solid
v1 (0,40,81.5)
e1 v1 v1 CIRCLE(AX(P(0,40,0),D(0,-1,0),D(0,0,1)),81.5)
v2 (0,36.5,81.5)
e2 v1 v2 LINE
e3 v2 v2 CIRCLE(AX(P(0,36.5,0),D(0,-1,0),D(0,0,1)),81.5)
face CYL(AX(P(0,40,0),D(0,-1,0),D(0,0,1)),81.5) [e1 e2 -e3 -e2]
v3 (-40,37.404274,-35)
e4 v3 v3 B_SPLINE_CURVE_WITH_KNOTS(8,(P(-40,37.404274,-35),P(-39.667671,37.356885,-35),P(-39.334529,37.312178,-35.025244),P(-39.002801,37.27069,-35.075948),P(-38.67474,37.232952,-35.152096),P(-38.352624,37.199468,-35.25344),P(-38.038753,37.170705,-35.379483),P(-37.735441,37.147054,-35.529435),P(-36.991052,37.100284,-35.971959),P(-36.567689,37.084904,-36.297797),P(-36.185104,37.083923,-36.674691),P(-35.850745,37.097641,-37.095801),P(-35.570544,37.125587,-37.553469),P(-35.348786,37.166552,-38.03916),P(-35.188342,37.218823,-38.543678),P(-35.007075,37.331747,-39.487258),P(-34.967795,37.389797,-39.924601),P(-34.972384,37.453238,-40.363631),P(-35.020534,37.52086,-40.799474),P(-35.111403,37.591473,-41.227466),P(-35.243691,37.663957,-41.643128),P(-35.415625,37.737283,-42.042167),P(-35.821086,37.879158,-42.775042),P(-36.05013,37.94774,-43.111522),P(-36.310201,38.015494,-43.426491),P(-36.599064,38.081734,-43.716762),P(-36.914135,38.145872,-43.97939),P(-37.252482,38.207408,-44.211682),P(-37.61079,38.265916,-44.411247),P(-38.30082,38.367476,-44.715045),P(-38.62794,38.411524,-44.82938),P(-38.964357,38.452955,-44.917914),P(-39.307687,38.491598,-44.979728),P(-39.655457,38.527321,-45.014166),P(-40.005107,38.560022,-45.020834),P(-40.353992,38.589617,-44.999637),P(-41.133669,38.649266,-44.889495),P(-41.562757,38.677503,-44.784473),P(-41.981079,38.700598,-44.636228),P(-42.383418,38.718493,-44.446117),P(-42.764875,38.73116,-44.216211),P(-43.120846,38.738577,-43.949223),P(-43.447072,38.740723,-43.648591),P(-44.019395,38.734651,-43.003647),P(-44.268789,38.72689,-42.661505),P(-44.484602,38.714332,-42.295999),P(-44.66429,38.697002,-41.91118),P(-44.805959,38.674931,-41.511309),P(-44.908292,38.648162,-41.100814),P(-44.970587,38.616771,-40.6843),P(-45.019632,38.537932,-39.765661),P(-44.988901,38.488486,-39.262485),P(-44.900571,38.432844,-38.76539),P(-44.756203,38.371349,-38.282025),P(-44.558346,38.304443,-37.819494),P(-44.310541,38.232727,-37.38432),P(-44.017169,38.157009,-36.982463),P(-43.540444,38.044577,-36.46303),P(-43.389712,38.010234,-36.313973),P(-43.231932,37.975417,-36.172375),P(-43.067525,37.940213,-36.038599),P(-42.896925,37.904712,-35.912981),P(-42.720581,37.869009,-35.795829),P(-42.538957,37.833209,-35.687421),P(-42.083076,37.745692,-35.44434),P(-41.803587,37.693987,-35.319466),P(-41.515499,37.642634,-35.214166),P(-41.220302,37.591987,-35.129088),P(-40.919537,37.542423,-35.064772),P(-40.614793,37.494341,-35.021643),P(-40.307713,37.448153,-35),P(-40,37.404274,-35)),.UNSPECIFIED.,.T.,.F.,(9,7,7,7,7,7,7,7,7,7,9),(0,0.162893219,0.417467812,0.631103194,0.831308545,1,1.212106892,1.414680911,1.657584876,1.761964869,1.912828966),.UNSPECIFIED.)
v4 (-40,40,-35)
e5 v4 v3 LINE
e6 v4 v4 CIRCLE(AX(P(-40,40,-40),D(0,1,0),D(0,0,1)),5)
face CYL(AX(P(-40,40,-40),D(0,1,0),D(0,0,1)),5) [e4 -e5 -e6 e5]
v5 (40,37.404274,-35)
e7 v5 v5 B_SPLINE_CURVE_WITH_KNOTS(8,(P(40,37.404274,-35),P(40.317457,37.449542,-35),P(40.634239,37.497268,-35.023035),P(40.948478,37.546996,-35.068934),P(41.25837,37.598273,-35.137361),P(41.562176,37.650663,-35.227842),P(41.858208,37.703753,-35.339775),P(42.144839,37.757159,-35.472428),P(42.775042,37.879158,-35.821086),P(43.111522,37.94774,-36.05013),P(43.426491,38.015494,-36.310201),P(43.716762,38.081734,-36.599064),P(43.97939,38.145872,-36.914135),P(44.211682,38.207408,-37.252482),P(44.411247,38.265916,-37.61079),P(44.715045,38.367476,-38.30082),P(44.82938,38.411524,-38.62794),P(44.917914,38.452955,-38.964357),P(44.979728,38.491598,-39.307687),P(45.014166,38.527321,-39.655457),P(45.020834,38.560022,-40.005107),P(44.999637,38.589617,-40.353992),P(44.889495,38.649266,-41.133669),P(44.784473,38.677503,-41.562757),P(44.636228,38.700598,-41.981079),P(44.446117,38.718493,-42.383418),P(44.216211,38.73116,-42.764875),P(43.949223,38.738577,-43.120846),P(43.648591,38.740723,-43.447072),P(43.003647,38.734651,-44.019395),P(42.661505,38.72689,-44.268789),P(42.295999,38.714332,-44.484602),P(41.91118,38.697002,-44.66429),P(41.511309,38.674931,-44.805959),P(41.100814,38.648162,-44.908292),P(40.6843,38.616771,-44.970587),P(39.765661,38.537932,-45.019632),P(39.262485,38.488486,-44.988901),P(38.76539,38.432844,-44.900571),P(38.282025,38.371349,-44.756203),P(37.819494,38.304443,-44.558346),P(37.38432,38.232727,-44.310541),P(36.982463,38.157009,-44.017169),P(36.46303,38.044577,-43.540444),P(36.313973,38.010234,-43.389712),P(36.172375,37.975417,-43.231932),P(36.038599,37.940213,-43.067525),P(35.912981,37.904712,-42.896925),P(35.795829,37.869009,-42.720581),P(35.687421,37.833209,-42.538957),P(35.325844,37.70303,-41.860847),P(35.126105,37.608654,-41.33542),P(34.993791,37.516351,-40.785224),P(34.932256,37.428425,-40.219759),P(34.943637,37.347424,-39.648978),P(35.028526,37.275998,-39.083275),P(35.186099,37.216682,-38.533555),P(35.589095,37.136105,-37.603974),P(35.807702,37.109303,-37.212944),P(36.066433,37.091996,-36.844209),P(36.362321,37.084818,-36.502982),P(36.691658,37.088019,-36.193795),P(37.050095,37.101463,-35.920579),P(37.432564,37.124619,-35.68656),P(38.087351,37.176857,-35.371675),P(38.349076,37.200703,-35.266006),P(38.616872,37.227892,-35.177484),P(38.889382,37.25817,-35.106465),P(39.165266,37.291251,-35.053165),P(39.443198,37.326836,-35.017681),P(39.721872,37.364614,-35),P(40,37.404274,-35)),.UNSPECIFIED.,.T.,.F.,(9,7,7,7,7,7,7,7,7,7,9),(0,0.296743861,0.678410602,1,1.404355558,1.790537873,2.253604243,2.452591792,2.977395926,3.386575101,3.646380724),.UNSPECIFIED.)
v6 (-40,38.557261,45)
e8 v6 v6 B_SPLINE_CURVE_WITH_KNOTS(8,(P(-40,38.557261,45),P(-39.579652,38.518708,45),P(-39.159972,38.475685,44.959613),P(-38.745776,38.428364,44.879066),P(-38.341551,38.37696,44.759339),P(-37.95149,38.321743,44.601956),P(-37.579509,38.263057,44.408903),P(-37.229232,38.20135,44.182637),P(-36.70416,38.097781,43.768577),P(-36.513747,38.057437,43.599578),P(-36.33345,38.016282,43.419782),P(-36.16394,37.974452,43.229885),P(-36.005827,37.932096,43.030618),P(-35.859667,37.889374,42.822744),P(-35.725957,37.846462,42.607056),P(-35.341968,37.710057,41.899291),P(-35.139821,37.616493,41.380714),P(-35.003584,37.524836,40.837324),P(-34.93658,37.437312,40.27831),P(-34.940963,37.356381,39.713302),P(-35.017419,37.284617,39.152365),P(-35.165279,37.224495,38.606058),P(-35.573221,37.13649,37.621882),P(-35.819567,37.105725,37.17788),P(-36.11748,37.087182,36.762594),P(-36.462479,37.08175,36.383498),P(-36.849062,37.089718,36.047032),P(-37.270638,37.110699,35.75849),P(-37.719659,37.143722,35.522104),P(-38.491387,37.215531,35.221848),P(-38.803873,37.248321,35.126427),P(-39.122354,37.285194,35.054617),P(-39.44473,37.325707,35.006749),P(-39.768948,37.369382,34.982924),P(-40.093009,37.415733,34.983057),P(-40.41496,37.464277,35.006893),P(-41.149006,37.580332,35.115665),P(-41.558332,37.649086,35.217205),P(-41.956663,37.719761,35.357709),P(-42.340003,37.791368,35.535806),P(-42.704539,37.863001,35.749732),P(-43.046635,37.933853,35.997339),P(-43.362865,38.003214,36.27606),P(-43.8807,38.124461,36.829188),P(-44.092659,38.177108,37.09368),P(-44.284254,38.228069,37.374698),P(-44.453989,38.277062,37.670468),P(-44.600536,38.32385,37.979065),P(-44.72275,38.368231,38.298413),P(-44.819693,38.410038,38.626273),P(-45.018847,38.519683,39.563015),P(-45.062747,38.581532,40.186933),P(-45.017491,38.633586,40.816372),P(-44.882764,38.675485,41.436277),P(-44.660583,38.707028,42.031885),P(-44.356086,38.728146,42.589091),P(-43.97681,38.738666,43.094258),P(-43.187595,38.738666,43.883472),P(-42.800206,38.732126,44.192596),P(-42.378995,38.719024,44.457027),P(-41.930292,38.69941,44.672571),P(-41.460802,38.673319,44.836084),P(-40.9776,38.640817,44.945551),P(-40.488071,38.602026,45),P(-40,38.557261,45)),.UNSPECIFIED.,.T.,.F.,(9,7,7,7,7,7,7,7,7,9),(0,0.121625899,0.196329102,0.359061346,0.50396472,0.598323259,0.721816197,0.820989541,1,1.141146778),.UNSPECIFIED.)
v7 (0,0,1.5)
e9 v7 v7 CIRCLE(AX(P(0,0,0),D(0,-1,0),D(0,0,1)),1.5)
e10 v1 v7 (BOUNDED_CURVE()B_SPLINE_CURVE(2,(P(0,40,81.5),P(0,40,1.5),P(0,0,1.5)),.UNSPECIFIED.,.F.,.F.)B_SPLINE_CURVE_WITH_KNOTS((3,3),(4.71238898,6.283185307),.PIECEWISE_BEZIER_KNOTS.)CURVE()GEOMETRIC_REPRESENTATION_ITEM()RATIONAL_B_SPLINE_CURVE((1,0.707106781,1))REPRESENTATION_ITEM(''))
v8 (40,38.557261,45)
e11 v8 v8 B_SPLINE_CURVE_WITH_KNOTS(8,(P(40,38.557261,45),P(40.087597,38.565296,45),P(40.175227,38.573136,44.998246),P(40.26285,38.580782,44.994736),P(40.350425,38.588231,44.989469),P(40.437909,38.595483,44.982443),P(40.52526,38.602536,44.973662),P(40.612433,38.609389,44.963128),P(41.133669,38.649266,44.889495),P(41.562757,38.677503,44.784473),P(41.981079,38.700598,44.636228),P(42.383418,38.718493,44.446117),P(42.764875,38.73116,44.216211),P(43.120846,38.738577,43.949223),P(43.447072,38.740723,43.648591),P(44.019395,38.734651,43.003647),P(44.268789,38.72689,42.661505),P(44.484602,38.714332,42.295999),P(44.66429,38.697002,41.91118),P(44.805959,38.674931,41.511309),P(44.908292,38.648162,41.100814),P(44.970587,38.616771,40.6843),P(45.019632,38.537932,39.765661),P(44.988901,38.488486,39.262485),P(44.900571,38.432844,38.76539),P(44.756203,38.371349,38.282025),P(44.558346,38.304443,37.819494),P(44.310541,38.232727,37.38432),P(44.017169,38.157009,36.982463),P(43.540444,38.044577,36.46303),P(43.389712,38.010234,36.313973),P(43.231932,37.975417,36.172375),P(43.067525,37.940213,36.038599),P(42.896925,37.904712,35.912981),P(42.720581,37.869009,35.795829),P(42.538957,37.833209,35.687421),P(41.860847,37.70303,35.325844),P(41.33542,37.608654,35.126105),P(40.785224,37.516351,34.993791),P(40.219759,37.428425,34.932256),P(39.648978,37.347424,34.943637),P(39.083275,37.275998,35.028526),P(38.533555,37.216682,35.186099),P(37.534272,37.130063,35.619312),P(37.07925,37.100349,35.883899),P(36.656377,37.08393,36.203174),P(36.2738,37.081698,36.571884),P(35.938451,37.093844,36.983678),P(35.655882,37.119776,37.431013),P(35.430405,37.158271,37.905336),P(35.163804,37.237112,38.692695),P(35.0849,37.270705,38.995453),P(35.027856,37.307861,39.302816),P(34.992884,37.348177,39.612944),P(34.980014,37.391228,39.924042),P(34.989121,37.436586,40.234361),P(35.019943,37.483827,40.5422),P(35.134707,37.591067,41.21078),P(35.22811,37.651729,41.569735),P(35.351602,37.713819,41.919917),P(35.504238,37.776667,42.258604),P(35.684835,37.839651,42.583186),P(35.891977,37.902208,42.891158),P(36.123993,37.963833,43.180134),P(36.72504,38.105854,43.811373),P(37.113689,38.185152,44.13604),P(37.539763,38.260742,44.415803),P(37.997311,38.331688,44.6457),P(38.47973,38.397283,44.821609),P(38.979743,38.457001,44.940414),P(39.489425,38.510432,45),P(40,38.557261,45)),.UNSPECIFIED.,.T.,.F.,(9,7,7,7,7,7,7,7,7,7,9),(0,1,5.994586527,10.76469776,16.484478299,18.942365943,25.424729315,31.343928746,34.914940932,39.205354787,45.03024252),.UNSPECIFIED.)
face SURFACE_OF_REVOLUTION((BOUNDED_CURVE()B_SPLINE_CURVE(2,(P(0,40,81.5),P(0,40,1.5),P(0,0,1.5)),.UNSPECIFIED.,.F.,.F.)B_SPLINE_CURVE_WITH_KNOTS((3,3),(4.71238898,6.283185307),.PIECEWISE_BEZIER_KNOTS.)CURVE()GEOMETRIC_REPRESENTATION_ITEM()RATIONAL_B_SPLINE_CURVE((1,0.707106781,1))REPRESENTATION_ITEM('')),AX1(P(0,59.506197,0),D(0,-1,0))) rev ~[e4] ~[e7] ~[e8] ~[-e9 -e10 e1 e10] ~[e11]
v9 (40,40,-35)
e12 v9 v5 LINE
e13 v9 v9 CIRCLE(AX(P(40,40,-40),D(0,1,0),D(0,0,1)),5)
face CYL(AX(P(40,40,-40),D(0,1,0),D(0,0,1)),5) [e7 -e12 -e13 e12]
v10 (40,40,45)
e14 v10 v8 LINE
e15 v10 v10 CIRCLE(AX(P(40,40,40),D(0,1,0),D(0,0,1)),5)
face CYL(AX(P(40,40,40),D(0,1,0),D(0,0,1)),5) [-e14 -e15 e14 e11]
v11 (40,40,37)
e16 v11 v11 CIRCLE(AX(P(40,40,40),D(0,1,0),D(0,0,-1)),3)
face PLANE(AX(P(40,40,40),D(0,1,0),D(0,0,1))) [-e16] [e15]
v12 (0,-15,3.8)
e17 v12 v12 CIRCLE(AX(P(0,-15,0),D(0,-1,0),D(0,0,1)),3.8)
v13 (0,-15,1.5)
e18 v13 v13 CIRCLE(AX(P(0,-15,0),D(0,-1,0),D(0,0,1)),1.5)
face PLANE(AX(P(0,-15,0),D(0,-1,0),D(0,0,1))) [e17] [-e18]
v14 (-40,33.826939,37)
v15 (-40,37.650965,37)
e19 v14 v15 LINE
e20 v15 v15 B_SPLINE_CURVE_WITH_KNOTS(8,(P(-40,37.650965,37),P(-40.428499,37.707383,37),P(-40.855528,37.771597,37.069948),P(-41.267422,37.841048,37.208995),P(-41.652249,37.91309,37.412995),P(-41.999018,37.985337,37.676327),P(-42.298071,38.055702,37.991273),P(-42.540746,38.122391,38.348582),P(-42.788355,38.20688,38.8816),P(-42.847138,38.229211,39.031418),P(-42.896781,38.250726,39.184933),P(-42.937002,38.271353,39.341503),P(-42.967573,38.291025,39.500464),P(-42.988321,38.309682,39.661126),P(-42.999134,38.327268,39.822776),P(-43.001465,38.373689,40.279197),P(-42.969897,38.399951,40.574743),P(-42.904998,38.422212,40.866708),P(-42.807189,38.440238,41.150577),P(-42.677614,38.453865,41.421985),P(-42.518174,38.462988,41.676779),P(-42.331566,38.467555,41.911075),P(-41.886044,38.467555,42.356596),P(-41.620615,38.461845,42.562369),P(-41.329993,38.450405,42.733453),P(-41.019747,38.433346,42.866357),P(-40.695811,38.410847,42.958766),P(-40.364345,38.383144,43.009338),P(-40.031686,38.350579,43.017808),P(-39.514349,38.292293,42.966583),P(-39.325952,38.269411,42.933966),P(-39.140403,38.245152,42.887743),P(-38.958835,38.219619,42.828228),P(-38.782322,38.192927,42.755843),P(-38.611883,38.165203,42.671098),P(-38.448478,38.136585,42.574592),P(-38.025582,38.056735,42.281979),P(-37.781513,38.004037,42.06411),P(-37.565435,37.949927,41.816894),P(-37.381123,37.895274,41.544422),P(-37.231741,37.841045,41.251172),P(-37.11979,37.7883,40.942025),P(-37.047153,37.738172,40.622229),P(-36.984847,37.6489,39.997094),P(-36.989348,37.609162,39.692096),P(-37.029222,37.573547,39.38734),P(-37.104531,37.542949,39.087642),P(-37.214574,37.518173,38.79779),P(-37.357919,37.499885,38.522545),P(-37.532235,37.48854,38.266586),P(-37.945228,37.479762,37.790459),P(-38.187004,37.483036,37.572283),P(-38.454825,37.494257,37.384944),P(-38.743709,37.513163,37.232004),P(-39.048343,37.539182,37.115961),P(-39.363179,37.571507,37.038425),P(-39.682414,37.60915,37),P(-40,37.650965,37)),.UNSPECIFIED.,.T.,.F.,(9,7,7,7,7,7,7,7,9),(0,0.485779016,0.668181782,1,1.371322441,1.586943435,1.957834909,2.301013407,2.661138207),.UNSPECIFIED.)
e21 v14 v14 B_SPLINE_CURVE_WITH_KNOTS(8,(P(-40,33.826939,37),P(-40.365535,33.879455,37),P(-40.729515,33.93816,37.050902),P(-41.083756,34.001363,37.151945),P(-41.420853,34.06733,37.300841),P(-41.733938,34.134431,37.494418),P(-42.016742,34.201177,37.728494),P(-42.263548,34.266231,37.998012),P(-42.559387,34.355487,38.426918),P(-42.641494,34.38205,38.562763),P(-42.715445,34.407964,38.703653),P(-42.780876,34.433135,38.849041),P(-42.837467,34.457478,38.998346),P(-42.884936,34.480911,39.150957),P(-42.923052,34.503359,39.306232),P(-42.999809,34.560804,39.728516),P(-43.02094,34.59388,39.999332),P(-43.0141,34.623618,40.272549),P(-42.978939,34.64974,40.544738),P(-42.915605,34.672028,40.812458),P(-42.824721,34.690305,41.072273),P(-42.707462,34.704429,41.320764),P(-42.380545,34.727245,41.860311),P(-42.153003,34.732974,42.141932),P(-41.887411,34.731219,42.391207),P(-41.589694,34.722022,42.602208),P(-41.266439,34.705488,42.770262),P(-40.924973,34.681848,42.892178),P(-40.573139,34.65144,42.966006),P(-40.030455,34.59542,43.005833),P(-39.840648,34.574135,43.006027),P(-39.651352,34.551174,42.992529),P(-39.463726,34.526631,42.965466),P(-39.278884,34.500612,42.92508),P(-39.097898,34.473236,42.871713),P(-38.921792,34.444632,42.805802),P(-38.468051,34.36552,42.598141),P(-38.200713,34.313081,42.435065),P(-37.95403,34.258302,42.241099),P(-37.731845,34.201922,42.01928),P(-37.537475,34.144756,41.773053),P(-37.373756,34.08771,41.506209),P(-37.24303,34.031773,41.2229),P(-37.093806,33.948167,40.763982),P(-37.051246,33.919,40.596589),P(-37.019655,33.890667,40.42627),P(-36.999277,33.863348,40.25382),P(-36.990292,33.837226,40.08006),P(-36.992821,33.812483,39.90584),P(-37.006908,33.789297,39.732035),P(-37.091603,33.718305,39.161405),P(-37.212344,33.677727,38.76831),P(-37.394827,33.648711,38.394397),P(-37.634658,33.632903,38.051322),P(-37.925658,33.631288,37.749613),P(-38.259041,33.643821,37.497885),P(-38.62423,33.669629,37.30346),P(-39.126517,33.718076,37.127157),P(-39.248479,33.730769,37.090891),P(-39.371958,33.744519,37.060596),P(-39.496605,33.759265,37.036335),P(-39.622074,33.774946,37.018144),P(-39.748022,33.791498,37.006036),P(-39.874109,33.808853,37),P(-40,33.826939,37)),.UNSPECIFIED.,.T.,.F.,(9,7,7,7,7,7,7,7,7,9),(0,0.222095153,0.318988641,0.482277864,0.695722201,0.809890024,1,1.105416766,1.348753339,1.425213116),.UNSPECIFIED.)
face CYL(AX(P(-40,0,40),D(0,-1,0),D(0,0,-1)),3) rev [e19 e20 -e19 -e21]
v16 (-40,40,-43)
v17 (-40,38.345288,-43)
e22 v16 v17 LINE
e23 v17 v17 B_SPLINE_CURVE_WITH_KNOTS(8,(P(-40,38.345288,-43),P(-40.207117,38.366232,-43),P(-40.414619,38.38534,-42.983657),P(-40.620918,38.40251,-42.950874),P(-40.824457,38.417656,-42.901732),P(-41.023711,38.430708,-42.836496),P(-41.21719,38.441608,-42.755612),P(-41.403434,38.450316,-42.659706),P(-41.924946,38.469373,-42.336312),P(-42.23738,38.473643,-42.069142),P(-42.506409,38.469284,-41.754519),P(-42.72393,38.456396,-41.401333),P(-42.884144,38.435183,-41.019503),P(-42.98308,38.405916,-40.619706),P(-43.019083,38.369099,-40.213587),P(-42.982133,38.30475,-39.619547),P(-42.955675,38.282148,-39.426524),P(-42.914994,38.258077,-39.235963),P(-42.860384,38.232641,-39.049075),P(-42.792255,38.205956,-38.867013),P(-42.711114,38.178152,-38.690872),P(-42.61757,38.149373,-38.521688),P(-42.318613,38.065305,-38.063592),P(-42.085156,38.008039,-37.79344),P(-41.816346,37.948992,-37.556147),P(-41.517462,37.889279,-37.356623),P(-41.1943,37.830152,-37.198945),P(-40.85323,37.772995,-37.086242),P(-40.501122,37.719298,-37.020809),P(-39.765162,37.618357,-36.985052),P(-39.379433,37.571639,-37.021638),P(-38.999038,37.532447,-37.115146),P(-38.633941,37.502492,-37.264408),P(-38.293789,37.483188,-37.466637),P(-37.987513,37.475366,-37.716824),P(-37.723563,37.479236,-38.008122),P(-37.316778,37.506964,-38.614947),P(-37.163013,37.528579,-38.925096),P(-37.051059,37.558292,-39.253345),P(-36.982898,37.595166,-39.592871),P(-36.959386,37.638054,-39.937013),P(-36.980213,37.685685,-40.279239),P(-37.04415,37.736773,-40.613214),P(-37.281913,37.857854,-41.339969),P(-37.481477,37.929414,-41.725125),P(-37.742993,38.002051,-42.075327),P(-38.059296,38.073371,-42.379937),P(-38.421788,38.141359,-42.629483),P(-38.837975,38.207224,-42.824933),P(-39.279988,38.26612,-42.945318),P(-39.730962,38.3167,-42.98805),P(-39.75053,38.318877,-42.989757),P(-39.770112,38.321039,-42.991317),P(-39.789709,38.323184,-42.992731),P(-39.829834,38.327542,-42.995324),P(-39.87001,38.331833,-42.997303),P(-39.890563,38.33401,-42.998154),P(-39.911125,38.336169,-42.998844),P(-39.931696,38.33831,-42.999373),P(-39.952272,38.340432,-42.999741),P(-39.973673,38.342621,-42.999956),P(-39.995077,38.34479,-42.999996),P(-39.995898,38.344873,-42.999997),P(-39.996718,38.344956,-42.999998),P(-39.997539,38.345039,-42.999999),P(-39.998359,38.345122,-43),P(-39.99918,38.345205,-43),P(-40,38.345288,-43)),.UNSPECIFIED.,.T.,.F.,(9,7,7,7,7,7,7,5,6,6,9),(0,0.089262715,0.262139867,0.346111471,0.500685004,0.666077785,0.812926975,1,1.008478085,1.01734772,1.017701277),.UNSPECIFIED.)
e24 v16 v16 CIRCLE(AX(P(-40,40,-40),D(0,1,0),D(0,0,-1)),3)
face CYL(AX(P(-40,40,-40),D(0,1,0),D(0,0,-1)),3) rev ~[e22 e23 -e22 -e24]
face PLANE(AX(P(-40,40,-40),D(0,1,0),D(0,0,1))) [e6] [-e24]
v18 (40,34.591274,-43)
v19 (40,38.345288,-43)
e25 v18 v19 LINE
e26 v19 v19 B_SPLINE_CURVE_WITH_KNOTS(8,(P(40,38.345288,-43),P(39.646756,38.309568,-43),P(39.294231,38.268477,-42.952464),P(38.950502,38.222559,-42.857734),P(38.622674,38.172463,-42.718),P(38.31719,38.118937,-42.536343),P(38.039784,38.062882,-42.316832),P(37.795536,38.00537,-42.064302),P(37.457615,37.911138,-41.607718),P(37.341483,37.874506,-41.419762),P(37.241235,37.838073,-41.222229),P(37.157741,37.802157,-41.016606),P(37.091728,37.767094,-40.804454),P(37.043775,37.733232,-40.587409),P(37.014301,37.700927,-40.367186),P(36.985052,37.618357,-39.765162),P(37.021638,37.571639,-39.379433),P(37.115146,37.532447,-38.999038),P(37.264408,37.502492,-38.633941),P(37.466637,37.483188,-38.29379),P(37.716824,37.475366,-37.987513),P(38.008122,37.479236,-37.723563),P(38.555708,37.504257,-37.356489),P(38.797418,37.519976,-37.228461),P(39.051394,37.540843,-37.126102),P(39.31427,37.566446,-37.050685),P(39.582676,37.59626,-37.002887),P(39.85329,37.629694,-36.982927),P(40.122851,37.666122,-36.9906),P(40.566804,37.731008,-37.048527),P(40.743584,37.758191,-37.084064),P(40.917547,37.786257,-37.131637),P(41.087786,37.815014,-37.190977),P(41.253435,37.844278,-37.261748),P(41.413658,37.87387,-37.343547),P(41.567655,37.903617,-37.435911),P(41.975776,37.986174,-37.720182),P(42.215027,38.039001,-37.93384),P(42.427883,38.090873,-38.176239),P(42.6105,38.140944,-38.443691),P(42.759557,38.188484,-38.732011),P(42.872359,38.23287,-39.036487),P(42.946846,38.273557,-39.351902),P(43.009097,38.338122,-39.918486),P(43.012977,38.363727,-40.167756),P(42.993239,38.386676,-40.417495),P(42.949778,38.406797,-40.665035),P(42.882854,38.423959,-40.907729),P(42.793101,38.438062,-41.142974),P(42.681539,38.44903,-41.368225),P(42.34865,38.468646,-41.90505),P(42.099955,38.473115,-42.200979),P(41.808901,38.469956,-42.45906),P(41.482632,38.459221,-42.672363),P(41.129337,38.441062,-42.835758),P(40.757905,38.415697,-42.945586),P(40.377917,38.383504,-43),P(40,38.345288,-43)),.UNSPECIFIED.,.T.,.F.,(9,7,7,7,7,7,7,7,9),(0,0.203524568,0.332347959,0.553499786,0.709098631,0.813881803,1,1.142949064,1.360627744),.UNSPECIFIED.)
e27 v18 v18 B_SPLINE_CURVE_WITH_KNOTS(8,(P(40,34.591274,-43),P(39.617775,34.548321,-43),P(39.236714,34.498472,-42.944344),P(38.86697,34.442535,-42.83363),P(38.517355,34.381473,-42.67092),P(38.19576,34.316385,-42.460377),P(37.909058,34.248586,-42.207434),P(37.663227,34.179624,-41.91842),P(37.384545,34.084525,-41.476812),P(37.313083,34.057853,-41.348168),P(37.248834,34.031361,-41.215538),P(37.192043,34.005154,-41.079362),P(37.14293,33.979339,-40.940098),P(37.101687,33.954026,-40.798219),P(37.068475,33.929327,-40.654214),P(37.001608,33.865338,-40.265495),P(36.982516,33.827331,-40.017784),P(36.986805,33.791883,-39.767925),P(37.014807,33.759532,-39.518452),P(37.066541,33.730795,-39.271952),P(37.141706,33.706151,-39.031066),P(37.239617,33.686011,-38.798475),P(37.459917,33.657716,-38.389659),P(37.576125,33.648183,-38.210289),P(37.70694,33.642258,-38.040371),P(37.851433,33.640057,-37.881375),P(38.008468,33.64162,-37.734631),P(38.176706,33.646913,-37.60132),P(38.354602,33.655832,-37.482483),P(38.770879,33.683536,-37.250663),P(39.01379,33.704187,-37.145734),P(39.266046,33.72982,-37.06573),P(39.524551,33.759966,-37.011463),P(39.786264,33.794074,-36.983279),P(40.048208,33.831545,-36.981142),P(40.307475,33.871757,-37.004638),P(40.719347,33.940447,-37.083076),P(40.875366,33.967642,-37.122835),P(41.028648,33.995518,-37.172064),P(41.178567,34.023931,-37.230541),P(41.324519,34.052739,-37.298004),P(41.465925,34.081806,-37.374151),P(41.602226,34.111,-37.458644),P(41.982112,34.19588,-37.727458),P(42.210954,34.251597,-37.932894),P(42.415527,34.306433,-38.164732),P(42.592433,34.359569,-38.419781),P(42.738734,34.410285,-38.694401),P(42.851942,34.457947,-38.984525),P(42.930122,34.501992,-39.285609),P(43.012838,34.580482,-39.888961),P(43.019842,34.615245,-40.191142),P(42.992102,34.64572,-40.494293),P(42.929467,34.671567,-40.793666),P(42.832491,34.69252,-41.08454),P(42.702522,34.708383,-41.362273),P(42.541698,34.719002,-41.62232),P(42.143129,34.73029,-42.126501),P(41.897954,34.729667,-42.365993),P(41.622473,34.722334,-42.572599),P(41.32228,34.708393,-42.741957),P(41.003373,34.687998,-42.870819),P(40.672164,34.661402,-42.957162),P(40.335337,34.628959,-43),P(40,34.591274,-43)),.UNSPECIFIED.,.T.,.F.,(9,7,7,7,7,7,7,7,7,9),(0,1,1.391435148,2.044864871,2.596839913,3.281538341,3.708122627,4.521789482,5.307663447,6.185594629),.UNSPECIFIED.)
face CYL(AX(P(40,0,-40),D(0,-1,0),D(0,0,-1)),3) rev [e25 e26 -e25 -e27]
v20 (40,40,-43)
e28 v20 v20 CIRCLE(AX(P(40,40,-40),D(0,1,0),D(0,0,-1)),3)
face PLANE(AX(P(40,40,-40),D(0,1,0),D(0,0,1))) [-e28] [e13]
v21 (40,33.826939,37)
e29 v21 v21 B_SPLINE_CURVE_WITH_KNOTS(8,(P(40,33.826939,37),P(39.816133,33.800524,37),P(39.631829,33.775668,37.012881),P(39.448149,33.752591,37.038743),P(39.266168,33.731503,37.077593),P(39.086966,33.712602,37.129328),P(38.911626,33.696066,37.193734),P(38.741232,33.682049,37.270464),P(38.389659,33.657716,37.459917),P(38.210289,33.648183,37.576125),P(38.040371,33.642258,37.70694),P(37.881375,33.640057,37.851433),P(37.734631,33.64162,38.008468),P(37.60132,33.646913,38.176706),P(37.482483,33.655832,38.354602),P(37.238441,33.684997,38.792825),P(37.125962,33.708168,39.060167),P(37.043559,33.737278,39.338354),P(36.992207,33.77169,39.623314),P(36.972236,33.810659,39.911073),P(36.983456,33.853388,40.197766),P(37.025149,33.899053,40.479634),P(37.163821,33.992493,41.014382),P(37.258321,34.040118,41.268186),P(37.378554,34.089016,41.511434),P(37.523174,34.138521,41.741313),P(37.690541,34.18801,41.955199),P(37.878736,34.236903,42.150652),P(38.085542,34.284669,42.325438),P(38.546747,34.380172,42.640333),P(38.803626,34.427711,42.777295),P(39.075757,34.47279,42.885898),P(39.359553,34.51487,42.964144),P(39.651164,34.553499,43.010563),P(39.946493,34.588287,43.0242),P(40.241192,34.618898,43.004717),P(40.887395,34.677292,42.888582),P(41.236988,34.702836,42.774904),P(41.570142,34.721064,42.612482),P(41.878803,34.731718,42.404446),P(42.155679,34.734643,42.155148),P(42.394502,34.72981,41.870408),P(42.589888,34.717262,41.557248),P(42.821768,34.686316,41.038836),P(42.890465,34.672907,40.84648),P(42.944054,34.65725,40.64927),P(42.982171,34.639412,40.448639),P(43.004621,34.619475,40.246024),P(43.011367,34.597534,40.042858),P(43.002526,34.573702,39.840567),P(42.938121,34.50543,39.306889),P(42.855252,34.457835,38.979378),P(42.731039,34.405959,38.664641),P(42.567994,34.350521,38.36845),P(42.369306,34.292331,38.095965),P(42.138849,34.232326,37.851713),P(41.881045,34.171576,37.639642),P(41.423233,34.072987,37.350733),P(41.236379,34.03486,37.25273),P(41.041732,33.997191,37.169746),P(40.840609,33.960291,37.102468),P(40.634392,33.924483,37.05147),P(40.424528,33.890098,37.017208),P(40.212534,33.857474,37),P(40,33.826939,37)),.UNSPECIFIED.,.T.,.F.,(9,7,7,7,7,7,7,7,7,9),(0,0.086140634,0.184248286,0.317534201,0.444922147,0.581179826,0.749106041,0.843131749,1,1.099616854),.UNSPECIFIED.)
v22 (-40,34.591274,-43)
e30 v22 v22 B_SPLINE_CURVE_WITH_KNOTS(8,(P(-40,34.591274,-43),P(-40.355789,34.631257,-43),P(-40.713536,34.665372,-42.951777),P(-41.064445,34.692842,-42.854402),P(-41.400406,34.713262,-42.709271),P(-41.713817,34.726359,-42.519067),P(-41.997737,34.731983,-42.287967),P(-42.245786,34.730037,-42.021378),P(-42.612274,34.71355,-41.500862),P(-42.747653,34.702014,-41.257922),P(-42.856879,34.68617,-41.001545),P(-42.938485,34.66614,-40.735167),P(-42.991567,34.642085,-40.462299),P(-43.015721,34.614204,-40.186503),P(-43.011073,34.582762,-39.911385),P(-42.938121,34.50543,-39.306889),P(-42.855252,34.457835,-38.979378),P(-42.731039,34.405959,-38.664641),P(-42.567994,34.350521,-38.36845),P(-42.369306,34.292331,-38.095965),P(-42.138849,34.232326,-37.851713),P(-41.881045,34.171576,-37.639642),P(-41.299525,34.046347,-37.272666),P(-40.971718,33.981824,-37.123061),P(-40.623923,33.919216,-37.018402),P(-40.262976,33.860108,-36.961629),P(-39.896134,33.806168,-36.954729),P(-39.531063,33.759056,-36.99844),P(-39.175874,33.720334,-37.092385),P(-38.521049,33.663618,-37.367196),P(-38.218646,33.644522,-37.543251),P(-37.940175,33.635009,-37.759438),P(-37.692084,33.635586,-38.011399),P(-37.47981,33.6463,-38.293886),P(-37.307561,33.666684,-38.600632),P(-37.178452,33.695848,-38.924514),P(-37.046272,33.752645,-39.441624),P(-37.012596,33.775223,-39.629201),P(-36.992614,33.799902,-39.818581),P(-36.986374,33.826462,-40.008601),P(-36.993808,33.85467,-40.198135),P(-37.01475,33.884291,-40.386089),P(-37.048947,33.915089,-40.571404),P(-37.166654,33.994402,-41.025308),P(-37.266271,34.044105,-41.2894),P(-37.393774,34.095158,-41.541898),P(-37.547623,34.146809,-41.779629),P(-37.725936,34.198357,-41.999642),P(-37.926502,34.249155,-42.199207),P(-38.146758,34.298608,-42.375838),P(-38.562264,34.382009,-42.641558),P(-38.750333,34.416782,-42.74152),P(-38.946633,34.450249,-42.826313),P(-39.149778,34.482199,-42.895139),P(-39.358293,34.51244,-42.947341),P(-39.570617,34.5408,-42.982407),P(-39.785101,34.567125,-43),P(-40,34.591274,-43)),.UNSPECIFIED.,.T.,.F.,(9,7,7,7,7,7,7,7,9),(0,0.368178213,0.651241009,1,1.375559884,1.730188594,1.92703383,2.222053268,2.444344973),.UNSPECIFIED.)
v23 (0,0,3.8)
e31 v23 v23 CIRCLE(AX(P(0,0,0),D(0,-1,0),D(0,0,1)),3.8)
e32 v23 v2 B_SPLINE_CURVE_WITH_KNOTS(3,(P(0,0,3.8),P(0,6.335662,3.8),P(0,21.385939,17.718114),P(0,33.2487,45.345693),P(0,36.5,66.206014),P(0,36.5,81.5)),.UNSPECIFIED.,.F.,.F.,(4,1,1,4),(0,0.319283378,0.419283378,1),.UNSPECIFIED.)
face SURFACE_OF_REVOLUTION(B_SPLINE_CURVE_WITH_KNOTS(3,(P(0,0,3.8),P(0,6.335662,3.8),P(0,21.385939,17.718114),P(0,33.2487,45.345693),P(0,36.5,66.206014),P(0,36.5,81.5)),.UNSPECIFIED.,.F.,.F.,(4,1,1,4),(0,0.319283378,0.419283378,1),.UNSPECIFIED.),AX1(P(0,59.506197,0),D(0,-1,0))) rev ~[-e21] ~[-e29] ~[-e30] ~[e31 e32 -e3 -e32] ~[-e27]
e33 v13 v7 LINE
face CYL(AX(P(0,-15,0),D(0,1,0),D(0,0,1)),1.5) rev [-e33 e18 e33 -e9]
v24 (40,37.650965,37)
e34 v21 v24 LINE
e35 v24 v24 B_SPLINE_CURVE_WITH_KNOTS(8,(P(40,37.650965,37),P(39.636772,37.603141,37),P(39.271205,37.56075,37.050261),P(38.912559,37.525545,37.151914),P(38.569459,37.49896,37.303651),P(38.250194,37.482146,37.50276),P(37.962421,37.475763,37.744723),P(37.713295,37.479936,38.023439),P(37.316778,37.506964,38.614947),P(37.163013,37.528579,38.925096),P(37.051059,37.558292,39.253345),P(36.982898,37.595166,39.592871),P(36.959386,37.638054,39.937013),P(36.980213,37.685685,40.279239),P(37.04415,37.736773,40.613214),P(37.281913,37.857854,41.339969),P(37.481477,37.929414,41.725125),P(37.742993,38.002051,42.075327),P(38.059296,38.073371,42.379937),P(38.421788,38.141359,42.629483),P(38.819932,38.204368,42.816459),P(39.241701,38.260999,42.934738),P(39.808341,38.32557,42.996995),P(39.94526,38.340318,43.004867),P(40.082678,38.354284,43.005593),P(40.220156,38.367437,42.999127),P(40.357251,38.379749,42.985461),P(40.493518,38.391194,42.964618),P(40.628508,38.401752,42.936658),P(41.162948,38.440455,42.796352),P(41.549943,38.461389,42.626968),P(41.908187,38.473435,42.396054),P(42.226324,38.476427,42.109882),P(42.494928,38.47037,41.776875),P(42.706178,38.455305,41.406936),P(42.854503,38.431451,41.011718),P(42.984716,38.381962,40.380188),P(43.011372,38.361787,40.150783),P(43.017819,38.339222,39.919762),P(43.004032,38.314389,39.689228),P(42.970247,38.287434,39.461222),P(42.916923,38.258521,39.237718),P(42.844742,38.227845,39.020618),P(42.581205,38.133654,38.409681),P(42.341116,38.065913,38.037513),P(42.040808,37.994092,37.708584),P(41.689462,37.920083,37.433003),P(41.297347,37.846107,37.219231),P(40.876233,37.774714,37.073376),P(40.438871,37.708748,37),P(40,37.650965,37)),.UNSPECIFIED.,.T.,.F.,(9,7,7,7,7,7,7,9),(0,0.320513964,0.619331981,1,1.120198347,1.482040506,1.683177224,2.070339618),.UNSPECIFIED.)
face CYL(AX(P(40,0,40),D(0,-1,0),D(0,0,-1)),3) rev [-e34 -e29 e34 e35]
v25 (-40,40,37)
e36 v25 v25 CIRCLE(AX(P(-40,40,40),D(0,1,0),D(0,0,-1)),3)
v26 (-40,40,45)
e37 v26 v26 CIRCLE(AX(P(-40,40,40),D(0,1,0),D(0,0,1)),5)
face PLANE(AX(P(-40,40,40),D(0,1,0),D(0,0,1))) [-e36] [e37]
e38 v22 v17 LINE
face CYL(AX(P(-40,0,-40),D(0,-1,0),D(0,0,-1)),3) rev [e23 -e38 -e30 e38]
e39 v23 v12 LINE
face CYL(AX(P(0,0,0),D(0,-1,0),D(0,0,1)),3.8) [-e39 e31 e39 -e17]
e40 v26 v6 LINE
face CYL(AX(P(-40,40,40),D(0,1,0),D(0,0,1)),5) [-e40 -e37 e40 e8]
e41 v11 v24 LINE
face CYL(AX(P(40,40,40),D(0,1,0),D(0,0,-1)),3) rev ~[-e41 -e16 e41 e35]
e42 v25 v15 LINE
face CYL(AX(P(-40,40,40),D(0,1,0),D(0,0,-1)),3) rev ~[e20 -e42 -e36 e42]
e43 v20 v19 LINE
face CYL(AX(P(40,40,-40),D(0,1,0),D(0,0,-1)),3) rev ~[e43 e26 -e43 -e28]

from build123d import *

# Parameters (mm, degrees)
SKETCH2_R           = 3
CUT_EXTRUDE3_DEPTH  = 100
BOSS_EXTRUDE1_REACH = 129.709
SKETCH3_R           = 5
SKETCH3_R_2         = 3


with BuildPart() as part:
    # Sketch1 → Revolve1 (revolve)
    with BuildSketch(Plane.XY, mode=Mode.PRIVATE) as revolve1_sk:
        with BuildLine():
            Line((3.8, 0), (3.8, -15))
            Line((3.8, -15), (1.5, -15))
            Line((1.5, -15), (1.5, 0))
            add(Edge.make_bspline(
                [(81.5, 40), (1.5, 40), (1.5, 0)],
                knots=[4.71238898, 4.71238898, 4.71238898, 6.283185307, 6.283185307, 6.283185307], degree=2, weights=[1, 0.707106781, 1]))
            Line((81.5, 40), (81.5, 36.5))
            add(Edge.make_bspline(
                [(3.8, 0), (3.8, 6.33566197), (17.718114252, 21.385939358), (45.345693135, 33.248700069), (66.206013583, 36.5), (81.5, 36.5)],
                knots=[0, 0, 0, 0, 0.319283378, 0.419283378, 1, 1, 1, 1], degree=3))
        make_face()
    revolve(revolve1_sk.sketch.rotate(Axis((0, 59.506196768, 0), (0, -1, 0)), 90), axis=Axis((0, 59.506196768, 0), (0, -1, 0)))

    # Sketch2 → Cut-Extrude3 (cut)
    with BuildSketch(Plane(origin=(0, 0, 0), x_dir=(1, 0, 0), z_dir=(0, 1, 0))):
        with Locations(Location((-40, 40, 0), (0, 0, 90))):
            Circle(SKETCH2_R)
        with Locations(Location((40, 40, 0), (0, 0, 90))):
            Circle(SKETCH2_R)
        with Locations(Location((40, -40, 0), (0, 0, 90))):
            Circle(SKETCH2_R)
        with Locations(Location((-40, -40, 0), (0, 0, 90))):
            Circle(SKETCH2_R)
    extrude(amount=CUT_EXTRUDE3_DEPTH, mode=Mode.SUBTRACT)

    # Sketch3 → Boss-Extrude1 (add, up to next)
    with BuildSketch(Plane(origin=(0, 40, 0), x_dir=(1, 0, 0), z_dir=(0, 1, 0)), mode=Mode.PRIVATE) as boss_extrude1_sk1:
        with Locations(Location((40, 40, 0), (0, 0, 270))):
            Circle(SKETCH3_R)
        with Locations(Location((40, 40, 0), (0, 0, 90))):
            Circle(SKETCH3_R_2, mode=Mode.SUBTRACT)
    boss_extrude1_tool1 = extrude(boss_extrude1_sk1.sketch, amount=-BOSS_EXTRUDE1_REACH, mode=Mode.PRIVATE) - part.part
    # Sketch3 → Boss-Extrude1 (add, up to next)
    with BuildSketch(Plane(origin=(0, 40, 0), x_dir=(1, 0, 0), z_dir=(0, 1, 0)), mode=Mode.PRIVATE) as boss_extrude1_sk2:
        with Locations(Location((-40, 40, 0), (0, 0, 270))):
            Circle(SKETCH3_R)
        with Locations(Location((-40, 40, 0), (0, 0, 90))):
            Circle(SKETCH3_R_2, mode=Mode.SUBTRACT)
    boss_extrude1_tool2 = extrude(boss_extrude1_sk2.sketch, amount=-BOSS_EXTRUDE1_REACH, mode=Mode.PRIVATE) - part.part
    # Sketch3 → Boss-Extrude1 (add, up to next)
    with BuildSketch(Plane(origin=(0, 40, 0), x_dir=(1, 0, 0), z_dir=(0, 1, 0)), mode=Mode.PRIVATE) as boss_extrude1_sk3:
        with Locations(Location((-40, -40, 0), (0, 0, 270))):
            Circle(SKETCH3_R)
        with Locations(Location((-40, -40, 0), (0, 0, 90))):
            Circle(SKETCH3_R_2, mode=Mode.SUBTRACT)
    boss_extrude1_tool3 = extrude(boss_extrude1_sk3.sketch, amount=-BOSS_EXTRUDE1_REACH, mode=Mode.PRIVATE) - part.part
    # Sketch3 → Boss-Extrude1 (add, up to next)
    with BuildSketch(Plane(origin=(0, 40, 0), x_dir=(1, 0, 0), z_dir=(0, 1, 0)), mode=Mode.PRIVATE) as boss_extrude1_sk4:
        with Locations(Location((40, -40, 0), (0, 0, 270))):
            Circle(SKETCH3_R)
        with Locations(Location((40, -40, 0), (0, 0, 90))):
            Circle(SKETCH3_R_2, mode=Mode.SUBTRACT)
    boss_extrude1_tool4 = extrude(boss_extrude1_sk4.sketch, amount=-BOSS_EXTRUDE1_REACH, mode=Mode.PRIVATE) - part.part
    add(boss_extrude1_tool1.solids().sort_by_distance((40, 40, -44.858579))[0])
    add(boss_extrude1_tool2.solids().sort_by_distance((-40, 40, -44.858579))[0])
    add(boss_extrude1_tool3.solids().sort_by_distance((-40, 40, 35.141421))[0])
    add(boss_extrude1_tool4.solids().sort_by_distance((40, 40, 35.141421))[0])


solid = part.part
